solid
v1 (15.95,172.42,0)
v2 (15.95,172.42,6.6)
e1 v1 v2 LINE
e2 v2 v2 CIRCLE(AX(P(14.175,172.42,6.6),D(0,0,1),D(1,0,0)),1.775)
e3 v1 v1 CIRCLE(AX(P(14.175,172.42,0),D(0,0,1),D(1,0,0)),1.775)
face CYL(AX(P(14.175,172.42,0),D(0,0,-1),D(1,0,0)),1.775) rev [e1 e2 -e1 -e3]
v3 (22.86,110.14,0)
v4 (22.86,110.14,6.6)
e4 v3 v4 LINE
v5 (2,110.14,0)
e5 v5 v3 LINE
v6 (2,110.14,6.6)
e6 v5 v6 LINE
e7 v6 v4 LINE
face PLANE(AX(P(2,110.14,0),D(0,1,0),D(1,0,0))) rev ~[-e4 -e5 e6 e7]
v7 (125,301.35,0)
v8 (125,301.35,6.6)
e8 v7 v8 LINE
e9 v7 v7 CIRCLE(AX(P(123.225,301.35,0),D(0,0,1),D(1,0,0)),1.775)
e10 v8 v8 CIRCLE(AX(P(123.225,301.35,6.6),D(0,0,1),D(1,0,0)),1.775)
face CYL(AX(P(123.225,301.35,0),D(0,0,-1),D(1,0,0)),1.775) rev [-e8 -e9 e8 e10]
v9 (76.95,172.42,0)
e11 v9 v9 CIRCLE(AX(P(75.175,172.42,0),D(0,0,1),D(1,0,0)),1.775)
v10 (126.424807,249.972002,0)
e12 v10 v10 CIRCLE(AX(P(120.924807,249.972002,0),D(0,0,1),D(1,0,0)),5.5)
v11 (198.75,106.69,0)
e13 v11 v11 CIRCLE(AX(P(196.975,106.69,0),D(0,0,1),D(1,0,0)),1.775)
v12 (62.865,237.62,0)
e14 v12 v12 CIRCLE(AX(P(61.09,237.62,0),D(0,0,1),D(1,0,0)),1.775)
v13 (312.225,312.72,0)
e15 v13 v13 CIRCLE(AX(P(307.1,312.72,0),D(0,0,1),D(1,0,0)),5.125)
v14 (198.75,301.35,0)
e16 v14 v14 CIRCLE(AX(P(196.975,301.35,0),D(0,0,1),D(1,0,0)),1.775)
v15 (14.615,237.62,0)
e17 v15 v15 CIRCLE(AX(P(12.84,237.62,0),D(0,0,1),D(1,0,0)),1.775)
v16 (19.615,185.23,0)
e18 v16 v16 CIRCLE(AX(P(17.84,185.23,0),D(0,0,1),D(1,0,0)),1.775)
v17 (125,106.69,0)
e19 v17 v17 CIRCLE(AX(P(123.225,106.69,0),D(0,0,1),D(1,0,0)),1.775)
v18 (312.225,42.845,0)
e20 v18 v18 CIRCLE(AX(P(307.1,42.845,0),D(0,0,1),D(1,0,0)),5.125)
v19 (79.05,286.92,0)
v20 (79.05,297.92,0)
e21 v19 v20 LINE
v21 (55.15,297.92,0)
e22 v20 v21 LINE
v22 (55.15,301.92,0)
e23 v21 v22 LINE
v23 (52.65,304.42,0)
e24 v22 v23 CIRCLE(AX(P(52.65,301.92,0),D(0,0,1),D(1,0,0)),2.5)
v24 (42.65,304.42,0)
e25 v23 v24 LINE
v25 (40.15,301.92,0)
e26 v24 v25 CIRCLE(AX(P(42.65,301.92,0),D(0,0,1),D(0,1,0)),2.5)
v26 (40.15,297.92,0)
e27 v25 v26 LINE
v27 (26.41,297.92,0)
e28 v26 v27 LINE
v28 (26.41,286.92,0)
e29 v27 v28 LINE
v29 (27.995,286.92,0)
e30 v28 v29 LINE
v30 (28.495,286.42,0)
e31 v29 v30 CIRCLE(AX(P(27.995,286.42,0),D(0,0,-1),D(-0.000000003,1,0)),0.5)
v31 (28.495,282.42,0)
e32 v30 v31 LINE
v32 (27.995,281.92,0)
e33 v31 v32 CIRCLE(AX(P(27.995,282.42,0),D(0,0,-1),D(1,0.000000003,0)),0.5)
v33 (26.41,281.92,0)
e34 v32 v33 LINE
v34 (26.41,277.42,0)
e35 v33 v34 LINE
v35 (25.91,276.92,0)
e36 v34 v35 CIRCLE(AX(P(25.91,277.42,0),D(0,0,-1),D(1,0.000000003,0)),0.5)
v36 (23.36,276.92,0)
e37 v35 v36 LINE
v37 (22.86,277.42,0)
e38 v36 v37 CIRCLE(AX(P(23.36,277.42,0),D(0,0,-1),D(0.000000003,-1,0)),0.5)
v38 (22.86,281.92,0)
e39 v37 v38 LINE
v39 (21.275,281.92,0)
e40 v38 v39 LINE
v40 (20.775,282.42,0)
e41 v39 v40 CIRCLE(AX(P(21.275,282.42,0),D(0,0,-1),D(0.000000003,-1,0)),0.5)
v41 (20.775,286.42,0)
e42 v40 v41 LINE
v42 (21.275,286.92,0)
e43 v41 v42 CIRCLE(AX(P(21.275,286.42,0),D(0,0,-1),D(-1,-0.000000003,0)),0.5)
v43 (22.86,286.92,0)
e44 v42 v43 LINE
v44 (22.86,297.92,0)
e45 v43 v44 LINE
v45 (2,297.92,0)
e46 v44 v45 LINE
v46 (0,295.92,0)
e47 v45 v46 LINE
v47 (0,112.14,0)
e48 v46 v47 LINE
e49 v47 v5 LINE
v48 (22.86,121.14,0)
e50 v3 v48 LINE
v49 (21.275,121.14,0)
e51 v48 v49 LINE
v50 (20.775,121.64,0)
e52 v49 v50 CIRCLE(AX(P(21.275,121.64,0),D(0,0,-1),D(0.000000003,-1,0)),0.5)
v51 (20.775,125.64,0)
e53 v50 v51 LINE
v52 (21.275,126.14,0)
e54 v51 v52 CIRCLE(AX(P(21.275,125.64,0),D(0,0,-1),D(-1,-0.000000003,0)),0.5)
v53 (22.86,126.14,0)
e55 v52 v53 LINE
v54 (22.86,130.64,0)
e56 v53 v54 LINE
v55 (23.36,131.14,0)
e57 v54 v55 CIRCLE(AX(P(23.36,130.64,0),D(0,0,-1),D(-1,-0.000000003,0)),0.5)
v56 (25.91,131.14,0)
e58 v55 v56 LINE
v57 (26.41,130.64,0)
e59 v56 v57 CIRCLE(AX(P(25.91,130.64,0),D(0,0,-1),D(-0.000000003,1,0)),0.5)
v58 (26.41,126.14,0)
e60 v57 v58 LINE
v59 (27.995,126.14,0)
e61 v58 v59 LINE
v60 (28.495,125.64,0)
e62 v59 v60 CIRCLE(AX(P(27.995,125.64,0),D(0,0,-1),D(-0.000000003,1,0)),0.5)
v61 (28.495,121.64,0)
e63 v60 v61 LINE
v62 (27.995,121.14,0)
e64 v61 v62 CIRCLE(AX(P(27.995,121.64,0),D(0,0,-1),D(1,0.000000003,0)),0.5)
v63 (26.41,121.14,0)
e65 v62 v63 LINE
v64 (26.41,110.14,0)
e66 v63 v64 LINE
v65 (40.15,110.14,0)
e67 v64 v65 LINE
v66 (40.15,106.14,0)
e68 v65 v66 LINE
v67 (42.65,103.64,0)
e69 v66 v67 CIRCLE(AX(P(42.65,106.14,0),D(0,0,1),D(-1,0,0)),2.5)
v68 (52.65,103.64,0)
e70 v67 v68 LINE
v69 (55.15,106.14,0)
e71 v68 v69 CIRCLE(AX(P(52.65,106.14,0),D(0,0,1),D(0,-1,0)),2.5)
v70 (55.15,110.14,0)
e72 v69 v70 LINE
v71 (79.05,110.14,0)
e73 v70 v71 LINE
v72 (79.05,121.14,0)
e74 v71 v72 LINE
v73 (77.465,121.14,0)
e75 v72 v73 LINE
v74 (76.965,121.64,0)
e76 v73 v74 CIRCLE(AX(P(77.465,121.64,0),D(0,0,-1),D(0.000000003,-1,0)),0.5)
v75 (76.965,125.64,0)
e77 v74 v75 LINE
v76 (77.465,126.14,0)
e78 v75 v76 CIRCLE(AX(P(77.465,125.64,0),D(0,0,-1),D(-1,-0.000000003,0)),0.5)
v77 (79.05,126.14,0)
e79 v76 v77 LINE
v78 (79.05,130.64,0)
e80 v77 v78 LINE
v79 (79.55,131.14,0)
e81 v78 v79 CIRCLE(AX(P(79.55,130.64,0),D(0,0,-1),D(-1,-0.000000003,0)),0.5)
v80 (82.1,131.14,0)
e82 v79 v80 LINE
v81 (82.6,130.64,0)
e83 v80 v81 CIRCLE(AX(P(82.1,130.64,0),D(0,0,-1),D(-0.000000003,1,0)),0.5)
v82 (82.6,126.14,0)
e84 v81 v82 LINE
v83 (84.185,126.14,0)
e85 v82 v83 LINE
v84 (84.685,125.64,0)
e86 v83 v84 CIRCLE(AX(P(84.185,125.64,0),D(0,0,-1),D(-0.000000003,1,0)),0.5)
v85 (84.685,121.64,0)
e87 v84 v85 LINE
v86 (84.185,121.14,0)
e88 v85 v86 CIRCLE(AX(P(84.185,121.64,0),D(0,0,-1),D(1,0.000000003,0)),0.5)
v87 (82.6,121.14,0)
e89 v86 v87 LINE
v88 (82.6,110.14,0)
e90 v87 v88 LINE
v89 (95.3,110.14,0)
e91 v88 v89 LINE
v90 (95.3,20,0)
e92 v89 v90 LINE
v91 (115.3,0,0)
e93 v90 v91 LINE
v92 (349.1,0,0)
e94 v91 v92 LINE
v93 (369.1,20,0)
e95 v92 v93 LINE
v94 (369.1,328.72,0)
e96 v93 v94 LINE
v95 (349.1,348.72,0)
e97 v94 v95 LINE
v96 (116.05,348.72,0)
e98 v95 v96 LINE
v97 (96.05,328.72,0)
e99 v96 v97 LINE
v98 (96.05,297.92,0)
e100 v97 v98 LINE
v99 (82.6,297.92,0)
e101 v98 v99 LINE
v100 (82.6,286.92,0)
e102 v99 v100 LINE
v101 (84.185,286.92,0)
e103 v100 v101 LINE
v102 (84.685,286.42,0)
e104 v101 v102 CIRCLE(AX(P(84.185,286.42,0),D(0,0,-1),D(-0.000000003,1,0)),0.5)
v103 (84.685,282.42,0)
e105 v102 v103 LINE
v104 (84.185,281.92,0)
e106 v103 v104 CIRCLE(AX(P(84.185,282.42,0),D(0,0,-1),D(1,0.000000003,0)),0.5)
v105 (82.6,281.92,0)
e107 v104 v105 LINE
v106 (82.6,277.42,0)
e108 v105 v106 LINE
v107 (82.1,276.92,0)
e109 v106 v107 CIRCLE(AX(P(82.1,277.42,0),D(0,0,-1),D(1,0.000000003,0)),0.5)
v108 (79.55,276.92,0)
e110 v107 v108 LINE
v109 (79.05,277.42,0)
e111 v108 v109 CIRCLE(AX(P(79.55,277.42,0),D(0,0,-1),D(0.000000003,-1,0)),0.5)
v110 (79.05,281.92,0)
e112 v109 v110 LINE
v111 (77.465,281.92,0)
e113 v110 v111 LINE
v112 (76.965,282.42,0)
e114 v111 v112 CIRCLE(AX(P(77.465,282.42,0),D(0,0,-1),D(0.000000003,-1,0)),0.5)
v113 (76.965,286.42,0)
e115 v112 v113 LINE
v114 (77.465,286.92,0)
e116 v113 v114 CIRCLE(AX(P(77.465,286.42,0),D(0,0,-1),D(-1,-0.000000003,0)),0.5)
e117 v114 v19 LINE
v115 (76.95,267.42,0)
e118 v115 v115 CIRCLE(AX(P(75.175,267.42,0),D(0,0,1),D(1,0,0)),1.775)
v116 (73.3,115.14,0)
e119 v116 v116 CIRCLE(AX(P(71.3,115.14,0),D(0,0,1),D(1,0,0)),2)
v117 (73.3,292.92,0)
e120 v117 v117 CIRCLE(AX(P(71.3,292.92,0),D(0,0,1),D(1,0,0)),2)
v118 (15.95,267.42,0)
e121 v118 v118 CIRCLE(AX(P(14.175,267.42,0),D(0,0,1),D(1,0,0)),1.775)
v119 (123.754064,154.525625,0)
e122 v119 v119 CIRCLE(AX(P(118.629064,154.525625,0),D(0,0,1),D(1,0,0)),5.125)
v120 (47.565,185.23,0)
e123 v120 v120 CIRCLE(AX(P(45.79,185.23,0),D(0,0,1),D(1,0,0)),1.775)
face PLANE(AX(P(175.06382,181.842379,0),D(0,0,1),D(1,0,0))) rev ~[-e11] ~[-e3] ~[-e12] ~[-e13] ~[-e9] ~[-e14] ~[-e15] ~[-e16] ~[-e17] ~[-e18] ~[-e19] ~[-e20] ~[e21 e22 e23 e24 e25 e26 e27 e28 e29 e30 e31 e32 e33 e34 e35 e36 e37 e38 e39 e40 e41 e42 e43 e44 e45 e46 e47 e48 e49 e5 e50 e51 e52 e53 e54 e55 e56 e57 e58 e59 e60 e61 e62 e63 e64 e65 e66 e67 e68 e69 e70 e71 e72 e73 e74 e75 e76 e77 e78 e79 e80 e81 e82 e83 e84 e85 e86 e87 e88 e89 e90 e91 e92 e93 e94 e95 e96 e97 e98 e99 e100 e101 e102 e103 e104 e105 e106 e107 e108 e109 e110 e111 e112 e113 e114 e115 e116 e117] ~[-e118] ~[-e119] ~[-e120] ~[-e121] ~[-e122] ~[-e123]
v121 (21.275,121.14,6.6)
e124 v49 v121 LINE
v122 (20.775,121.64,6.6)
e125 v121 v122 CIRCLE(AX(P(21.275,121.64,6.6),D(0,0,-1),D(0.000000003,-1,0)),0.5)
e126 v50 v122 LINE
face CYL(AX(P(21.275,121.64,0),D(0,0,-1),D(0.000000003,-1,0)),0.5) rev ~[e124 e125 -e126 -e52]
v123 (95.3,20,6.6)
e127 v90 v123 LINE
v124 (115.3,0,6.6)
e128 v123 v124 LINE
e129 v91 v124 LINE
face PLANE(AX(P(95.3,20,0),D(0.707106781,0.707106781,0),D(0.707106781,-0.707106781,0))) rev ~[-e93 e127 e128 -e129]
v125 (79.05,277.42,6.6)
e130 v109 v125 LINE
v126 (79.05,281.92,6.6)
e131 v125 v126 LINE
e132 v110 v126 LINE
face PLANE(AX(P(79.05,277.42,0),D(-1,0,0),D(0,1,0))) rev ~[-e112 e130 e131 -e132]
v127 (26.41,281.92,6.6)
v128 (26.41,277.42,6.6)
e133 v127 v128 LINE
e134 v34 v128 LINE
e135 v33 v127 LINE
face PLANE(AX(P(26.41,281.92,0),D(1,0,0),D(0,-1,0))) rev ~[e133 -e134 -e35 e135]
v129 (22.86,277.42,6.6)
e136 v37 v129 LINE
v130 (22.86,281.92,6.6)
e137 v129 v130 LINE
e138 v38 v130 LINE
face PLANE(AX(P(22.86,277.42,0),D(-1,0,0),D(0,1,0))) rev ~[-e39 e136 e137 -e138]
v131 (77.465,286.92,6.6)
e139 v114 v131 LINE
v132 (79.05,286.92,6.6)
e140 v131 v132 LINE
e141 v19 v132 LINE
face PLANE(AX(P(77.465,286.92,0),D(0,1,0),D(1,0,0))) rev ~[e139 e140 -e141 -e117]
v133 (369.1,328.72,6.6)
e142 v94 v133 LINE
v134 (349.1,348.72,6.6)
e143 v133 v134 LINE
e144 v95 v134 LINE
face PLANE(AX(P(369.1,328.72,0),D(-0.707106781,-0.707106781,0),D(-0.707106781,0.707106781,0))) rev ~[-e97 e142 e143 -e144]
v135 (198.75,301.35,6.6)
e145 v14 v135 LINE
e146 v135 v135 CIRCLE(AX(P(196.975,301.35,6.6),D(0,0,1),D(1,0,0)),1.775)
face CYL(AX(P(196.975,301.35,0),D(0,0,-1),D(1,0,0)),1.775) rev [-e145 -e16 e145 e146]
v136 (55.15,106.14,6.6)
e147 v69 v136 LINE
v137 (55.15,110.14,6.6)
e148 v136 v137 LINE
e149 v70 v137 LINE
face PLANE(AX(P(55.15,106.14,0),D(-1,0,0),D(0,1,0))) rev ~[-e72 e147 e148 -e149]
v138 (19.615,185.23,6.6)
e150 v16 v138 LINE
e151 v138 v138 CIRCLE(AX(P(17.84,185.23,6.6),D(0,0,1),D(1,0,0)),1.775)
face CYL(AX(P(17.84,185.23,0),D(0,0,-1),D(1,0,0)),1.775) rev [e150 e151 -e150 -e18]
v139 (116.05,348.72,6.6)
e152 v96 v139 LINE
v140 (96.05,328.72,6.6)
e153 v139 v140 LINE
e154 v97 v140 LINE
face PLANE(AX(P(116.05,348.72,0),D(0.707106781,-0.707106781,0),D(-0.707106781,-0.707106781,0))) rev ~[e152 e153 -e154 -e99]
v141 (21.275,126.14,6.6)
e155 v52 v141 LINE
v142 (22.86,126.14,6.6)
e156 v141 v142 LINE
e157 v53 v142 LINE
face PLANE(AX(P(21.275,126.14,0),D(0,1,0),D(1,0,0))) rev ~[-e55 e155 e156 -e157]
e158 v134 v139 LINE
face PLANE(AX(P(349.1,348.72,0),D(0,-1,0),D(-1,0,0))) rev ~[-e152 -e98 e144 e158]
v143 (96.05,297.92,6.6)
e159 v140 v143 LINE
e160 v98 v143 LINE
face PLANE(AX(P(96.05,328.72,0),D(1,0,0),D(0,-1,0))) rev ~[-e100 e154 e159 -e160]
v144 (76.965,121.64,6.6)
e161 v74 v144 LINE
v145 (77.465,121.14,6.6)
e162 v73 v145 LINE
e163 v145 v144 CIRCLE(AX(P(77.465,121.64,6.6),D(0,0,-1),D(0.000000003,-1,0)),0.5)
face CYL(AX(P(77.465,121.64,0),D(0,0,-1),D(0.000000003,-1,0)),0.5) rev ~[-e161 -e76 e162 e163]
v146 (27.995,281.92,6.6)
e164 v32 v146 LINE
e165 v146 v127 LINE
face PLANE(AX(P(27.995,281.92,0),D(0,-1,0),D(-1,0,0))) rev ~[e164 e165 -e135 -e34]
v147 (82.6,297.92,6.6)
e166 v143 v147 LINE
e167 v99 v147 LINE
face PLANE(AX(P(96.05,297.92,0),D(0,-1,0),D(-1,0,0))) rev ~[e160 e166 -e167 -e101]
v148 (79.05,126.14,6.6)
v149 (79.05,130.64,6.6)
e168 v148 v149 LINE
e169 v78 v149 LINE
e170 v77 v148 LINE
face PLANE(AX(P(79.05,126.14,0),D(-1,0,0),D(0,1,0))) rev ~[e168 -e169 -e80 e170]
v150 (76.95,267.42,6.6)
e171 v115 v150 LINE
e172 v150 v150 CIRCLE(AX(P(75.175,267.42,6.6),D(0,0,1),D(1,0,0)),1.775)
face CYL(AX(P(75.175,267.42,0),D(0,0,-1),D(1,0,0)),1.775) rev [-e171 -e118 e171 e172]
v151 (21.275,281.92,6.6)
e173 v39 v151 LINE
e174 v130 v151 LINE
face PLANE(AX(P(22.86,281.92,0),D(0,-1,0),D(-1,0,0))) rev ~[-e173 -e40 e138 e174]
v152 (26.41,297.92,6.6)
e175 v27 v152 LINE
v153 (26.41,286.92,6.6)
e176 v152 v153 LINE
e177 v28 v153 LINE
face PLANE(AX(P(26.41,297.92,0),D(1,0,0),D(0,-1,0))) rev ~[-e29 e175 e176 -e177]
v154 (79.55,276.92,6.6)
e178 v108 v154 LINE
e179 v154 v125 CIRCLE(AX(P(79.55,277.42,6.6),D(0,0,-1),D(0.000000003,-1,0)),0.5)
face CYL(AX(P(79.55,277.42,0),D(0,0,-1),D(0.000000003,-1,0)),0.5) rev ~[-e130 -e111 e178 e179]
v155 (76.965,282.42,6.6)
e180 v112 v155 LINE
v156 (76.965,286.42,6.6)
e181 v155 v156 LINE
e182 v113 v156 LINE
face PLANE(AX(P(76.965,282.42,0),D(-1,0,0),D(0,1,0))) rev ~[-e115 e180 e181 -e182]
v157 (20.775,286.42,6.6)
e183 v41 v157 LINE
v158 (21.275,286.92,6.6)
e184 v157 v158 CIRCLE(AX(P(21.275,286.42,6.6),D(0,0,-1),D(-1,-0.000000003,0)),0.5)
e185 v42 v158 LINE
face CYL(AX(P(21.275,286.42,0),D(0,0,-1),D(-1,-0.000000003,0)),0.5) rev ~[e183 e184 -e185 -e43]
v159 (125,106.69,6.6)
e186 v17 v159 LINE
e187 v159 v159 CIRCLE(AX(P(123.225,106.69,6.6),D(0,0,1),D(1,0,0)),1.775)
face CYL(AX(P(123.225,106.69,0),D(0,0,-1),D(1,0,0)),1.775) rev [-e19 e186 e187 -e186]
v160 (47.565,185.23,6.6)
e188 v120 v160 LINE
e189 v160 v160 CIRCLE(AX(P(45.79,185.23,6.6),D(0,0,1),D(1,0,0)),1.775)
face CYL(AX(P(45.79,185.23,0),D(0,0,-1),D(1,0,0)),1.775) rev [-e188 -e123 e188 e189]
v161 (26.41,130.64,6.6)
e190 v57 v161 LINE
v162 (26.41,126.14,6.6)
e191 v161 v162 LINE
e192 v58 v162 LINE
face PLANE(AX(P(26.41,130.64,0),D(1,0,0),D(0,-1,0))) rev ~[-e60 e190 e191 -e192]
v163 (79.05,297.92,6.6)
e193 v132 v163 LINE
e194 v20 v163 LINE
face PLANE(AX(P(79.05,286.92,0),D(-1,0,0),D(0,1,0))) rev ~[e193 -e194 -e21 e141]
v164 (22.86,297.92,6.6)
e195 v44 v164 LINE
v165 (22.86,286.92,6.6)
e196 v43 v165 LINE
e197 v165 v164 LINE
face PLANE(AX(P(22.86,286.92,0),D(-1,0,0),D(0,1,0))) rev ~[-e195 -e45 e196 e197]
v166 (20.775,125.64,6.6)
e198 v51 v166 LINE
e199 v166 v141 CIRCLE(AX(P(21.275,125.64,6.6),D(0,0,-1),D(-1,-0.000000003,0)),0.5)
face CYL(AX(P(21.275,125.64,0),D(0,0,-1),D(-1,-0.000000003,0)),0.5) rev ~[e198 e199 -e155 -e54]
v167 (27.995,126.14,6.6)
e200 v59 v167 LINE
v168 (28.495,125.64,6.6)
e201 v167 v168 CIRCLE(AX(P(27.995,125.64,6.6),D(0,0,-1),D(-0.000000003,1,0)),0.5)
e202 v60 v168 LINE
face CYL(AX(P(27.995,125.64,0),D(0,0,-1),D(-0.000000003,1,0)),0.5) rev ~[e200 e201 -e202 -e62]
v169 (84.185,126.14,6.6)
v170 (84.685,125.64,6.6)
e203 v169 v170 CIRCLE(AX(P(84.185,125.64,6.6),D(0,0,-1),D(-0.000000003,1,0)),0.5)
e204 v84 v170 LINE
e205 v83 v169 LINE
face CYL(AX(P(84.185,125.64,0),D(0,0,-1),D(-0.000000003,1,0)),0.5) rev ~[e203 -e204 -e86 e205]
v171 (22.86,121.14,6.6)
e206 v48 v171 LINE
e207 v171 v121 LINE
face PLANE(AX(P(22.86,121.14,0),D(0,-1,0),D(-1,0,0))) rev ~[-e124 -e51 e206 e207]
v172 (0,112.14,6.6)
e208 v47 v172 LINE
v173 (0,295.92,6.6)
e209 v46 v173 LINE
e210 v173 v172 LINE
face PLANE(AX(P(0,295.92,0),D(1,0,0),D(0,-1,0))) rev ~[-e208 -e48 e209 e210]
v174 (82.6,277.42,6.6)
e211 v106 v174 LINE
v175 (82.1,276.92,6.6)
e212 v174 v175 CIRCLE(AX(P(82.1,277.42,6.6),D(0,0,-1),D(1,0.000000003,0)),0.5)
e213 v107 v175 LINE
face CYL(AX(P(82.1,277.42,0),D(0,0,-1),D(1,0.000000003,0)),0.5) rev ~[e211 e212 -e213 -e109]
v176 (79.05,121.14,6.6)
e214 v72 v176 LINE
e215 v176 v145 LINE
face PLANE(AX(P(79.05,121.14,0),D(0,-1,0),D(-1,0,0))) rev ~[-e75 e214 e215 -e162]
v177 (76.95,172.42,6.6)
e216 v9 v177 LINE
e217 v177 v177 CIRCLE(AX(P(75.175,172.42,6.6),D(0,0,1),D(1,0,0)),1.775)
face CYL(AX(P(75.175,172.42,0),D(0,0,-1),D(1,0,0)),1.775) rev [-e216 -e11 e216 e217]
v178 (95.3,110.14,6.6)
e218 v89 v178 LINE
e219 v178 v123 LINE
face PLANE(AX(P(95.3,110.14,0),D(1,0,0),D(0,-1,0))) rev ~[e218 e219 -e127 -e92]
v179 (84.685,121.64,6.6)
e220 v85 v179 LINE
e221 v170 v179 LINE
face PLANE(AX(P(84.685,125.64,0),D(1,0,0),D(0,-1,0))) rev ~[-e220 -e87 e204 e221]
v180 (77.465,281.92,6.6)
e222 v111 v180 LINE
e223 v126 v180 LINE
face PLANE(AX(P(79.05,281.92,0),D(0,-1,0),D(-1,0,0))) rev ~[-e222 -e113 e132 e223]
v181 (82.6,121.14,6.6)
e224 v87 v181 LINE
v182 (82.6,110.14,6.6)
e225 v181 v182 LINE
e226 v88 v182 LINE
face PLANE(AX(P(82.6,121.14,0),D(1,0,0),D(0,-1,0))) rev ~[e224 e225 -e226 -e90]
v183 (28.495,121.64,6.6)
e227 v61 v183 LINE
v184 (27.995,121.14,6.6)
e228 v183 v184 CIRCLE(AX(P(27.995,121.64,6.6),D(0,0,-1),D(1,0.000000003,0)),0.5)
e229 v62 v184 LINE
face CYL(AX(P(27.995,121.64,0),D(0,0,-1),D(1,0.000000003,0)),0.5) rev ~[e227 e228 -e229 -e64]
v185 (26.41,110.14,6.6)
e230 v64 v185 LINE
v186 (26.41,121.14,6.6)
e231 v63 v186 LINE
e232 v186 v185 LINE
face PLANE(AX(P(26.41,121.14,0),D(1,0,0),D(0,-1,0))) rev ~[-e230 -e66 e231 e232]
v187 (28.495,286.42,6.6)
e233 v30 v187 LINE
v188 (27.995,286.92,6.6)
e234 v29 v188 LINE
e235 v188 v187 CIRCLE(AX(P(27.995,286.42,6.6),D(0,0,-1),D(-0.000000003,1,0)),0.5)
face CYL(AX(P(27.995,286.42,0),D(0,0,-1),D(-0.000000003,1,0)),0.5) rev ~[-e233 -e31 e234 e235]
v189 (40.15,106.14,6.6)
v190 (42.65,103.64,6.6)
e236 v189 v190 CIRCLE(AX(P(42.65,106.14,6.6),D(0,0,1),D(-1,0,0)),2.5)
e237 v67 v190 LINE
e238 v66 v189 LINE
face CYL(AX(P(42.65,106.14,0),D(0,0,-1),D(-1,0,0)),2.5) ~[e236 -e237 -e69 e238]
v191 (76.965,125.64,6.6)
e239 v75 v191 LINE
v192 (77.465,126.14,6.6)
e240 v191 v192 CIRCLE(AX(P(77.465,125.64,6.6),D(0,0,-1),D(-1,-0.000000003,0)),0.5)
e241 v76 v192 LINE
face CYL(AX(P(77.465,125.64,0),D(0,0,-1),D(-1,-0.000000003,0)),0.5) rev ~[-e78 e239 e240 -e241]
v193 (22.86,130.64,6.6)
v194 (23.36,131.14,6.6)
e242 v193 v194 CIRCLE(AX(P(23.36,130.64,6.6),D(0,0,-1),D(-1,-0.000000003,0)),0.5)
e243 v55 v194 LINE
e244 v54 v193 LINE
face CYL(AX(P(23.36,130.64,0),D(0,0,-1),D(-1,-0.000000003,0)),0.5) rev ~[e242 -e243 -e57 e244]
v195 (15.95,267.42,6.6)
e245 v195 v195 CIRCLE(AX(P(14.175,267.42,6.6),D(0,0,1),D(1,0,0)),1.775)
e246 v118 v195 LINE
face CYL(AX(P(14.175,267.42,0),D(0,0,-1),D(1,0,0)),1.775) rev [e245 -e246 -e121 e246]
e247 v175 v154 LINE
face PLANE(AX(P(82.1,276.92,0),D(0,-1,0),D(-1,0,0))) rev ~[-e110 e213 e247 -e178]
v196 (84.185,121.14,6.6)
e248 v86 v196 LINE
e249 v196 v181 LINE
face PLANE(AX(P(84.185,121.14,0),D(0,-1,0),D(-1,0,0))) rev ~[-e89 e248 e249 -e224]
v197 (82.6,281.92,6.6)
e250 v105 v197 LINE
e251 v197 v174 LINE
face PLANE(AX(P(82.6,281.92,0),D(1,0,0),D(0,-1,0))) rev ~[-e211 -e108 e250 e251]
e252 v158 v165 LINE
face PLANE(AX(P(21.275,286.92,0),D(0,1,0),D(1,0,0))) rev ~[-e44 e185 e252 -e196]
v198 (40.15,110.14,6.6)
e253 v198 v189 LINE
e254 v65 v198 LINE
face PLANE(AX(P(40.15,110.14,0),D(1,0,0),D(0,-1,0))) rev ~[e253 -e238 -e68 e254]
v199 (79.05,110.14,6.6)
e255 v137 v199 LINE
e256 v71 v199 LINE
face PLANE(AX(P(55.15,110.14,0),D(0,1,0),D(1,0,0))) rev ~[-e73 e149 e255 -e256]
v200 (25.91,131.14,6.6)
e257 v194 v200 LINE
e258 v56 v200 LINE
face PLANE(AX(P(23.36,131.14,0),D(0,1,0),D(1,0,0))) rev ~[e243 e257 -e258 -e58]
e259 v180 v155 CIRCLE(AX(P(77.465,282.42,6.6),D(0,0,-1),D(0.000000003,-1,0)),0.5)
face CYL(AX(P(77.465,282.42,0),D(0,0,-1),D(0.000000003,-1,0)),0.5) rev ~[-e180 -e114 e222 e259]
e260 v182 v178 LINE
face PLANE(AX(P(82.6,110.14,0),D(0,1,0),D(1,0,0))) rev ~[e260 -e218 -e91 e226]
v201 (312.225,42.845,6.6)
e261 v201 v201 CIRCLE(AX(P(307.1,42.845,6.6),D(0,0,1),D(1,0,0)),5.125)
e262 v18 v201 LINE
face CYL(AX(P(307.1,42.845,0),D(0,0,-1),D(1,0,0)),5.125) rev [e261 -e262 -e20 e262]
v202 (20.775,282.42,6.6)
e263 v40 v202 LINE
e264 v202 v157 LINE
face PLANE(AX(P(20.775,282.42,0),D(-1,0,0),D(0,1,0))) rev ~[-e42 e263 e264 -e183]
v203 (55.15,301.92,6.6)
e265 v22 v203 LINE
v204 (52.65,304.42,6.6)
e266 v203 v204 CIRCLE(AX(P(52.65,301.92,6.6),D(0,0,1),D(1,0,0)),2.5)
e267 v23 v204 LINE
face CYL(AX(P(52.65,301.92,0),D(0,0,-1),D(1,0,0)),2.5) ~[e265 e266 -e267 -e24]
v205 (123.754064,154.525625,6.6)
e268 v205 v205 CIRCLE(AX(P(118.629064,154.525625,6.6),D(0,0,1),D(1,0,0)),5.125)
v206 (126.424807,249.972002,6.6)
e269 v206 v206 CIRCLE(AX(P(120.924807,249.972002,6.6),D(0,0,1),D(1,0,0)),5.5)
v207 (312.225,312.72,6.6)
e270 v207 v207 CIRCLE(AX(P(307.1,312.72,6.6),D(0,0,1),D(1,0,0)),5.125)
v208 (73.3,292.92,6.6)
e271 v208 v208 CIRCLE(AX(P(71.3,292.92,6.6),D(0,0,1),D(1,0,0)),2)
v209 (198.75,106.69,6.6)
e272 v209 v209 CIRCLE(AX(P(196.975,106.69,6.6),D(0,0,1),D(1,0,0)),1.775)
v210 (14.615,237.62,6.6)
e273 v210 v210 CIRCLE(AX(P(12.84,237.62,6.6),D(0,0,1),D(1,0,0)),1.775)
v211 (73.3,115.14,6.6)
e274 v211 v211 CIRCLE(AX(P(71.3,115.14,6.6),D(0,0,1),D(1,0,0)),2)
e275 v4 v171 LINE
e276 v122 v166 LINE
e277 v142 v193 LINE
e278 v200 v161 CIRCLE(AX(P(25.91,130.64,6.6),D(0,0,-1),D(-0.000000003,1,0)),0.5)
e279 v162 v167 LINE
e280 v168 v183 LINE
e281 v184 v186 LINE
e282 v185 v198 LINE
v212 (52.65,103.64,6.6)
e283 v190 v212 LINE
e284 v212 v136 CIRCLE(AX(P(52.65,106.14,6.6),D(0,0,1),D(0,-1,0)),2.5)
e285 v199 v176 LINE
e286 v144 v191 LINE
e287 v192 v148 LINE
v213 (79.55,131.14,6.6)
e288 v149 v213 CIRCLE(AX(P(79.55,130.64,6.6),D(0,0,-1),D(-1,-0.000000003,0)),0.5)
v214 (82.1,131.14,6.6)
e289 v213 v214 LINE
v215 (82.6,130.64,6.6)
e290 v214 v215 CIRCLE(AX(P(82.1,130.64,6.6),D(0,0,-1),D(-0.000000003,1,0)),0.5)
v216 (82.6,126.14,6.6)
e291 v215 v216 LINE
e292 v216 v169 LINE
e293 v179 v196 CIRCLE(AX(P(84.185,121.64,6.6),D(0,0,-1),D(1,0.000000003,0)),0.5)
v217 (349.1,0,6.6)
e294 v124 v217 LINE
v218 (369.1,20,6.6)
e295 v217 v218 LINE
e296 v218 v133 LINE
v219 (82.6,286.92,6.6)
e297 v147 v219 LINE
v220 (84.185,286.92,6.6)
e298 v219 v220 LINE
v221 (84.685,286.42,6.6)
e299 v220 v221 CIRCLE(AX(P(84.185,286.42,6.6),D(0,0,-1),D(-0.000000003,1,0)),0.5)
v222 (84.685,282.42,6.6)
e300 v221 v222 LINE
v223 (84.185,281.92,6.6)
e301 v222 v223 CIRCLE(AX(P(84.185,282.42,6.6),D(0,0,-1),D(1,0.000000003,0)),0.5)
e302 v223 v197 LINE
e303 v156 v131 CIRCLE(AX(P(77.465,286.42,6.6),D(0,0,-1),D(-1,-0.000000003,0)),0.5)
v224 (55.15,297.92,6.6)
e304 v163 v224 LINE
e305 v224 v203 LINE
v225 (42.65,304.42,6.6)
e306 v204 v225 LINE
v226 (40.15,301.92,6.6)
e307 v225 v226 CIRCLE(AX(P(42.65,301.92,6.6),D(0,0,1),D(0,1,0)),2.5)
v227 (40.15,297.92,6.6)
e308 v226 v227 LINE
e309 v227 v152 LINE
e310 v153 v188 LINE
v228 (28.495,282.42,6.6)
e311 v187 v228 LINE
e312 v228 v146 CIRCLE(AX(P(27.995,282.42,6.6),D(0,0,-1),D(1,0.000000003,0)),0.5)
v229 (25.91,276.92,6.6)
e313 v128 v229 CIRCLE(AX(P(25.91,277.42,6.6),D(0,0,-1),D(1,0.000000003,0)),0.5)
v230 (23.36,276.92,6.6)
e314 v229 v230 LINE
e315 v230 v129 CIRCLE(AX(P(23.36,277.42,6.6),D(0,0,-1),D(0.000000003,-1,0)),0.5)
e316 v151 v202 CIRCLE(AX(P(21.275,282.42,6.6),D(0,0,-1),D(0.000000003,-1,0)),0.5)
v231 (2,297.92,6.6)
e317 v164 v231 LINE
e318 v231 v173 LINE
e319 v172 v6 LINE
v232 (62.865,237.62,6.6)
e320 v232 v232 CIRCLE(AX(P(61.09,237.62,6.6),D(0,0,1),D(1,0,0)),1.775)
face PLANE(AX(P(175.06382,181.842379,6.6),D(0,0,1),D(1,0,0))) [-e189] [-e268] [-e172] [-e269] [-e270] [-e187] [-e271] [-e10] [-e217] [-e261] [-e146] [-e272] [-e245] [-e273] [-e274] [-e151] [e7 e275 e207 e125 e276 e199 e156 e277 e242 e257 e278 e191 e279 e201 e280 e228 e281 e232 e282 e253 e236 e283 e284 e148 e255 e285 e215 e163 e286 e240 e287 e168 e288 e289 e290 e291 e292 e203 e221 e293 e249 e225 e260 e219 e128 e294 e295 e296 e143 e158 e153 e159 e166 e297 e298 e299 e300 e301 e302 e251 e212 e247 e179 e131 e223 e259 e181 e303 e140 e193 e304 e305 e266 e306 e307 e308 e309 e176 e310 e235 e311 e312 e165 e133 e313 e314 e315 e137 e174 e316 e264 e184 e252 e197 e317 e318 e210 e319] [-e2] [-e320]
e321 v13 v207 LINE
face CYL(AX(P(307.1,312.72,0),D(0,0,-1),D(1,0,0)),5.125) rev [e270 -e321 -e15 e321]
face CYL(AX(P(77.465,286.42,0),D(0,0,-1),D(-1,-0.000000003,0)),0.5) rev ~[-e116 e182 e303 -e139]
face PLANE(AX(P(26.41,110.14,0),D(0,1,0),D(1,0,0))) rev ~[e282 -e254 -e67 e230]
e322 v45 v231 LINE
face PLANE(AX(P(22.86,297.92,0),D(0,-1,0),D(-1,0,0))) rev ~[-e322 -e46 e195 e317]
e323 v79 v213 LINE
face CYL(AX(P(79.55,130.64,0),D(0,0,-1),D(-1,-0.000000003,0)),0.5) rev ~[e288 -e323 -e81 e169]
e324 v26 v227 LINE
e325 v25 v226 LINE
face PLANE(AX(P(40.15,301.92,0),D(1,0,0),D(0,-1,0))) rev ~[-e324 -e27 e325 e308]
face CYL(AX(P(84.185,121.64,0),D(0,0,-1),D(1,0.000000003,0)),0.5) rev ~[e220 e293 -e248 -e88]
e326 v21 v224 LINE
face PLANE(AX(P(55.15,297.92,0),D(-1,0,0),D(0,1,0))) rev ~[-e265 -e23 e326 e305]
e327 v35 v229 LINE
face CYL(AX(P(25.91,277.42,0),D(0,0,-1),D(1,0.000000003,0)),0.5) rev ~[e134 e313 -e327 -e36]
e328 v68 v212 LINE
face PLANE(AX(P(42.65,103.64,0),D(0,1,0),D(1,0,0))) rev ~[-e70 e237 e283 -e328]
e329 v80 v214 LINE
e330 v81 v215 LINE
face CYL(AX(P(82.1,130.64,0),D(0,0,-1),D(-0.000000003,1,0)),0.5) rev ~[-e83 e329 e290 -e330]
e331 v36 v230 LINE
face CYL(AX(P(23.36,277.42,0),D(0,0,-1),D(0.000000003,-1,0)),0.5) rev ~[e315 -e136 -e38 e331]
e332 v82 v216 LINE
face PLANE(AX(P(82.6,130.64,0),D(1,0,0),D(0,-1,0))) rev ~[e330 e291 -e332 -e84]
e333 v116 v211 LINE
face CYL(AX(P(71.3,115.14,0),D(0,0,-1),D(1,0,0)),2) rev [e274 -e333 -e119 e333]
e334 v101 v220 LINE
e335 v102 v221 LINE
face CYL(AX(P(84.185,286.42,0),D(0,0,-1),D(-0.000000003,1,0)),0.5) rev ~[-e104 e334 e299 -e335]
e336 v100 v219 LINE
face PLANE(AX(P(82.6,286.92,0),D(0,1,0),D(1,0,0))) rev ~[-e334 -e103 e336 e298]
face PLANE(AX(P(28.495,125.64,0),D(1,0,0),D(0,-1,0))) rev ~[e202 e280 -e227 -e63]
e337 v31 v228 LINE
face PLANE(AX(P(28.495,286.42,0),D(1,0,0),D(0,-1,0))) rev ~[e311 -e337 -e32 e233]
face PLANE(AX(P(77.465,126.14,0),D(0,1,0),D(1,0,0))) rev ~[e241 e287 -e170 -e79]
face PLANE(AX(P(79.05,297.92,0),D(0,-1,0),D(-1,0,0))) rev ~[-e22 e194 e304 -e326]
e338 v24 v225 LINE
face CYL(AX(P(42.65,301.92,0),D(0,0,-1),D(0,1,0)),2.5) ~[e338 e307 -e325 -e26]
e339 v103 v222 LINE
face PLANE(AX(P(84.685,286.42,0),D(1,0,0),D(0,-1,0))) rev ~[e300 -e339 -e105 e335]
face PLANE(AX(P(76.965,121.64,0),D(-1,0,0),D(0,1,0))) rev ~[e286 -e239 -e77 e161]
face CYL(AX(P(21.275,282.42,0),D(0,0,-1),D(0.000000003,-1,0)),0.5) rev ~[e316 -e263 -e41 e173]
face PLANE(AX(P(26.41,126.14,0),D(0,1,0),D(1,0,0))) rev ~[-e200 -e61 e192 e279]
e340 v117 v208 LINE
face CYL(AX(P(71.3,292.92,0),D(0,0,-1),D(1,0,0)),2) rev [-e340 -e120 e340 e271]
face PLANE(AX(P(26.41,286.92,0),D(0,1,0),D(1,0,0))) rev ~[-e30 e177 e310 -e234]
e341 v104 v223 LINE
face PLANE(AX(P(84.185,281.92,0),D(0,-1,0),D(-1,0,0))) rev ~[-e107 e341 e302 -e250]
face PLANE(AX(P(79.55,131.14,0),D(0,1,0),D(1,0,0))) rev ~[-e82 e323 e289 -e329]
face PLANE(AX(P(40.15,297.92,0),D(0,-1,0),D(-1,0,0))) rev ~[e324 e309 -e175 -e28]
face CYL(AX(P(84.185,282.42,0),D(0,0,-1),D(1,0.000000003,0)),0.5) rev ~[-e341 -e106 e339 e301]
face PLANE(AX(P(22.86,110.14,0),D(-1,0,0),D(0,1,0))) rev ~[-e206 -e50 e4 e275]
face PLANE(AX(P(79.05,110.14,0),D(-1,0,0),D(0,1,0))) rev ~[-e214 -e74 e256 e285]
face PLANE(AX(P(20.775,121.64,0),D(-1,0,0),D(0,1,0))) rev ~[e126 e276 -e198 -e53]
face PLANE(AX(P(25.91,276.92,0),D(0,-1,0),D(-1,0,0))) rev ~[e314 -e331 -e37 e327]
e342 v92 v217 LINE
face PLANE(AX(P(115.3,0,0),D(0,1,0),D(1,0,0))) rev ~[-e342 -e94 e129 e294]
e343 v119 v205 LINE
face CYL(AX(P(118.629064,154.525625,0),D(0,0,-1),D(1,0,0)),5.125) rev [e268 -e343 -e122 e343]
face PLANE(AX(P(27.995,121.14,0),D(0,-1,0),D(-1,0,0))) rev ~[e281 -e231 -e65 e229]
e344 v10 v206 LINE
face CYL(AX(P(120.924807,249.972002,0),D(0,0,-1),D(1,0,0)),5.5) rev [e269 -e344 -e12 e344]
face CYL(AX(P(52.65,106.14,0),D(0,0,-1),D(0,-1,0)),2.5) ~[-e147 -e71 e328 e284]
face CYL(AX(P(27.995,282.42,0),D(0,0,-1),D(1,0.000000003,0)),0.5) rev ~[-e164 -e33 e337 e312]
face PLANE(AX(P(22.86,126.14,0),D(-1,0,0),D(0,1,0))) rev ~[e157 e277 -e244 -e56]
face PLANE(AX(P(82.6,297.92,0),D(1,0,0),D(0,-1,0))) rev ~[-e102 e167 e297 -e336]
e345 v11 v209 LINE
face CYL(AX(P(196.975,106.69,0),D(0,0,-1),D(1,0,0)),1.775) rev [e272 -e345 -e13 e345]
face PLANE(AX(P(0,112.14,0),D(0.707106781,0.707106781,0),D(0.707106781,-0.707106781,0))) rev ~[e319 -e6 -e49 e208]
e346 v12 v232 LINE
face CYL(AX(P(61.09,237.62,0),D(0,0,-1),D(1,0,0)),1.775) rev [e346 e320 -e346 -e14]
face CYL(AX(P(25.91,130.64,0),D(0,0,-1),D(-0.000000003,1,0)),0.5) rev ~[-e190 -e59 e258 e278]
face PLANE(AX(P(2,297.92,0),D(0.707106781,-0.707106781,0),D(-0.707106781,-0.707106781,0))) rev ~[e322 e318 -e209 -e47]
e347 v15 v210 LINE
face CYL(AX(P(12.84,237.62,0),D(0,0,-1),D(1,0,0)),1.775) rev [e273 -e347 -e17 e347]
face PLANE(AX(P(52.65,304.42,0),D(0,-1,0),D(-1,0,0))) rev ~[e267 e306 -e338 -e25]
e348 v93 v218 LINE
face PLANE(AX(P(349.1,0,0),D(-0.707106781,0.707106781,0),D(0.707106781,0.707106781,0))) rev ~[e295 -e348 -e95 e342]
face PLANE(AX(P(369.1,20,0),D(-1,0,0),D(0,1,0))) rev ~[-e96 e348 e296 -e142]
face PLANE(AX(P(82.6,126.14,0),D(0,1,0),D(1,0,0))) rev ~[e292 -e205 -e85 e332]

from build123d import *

# Parameters (mm, degrees)
MODEL_R             = 1.775
MODEL_R_2           = 5.5
MODEL_R_3           = 2
MODEL_R_4           = 5.125
BOSS_EXTRUDE1_DEPTH = 6.6


with BuildPart() as part:
    # Model → Boss-Extrude1 (new body)
    with BuildSketch(Plane.XY):
        with BuildLine():
            Line((40.15, 110.14), (40.15, 106.14))
            ThreePointArc((40.15, 106.14), (40.882233047, 104.372233047), (42.65, 103.64))
            Line((42.65, 103.64), (52.65, 103.64))
            ThreePointArc((52.65, 103.64), (54.417766953, 104.372233047), (55.15, 106.14))
            Line((55.15, 106.14), (55.15, 110.14))
            Line((55.15, 110.14), (79.05, 110.14))
            Line((79.05, 110.14), (79.05, 121.14))
            Line((79.05, 121.14), (77.465, 121.14))
            ThreePointArc((77.465, 121.14), (77.111446609, 121.286446609), (76.965, 121.64))
            Line((76.965, 121.64), (76.965, 125.64))
            ThreePointArc((76.965, 125.64), (77.111446609, 125.993553391), (77.465, 126.14))
            Line((77.465, 126.14), (79.05, 126.14))
            Line((79.05, 126.14), (79.05, 130.64))
            ThreePointArc((79.05, 130.64), (79.196446609, 130.993553391), (79.55, 131.14))
            Line((79.55, 131.14), (82.1, 131.14))
            ThreePointArc((82.1, 131.14), (82.453553391, 130.993553391), (82.6, 130.64))
            Line((82.6, 130.64), (82.6, 126.14))
            Line((82.6, 126.14), (84.185, 126.14))
            ThreePointArc((84.185, 126.14), (84.538553391, 125.993553391), (84.685, 125.64))
            Line((84.685, 125.64), (84.685, 121.64))
            ThreePointArc((84.685, 121.64), (84.538553391, 121.286446609), (84.185, 121.14))
            Line((84.185, 121.14), (82.6, 121.14))
            Line((82.6, 121.14), (82.6, 110.14))
            Line((82.6, 110.14), (95.3, 110.14))
            Line((95.3, 110.14), (95.3, 20))
            Line((95.3, 20), (115.3, 0))
            Line((115.3, 0), (349.1, 0))
            Line((349.1, 0), (369.1, 20))
            Line((369.1, 20), (369.1, 328.72))
            Line((369.1, 328.72), (349.1, 348.72))
            Line((349.1, 348.72), (116.05, 348.72))
            Line((116.05, 348.72), (96.05, 328.72))
            Line((96.05, 328.72), (96.05, 297.92))
            Line((96.05, 297.92), (82.6, 297.92))
            Line((82.6, 297.92), (82.6, 286.92))
            Line((82.6, 286.92), (84.185, 286.92))
            ThreePointArc((84.185, 286.92), (84.538553391, 286.773553391), (84.685, 286.42))
            Line((84.685, 286.42), (84.685, 282.42))
            ThreePointArc((84.685, 282.42), (84.538553391, 282.066446609), (84.185, 281.92))
            Line((84.185, 281.92), (82.6, 281.92))
            Line((82.6, 281.92), (82.6, 277.42))
            ThreePointArc((82.6, 277.42), (82.453553391, 277.066446609), (82.1, 276.92))
            Line((82.1, 276.92), (79.55, 276.92))
            ThreePointArc((79.55, 276.92), (79.196446609, 277.066446609), (79.05, 277.42))
            Line((79.05, 277.42), (79.05, 281.92))
            Line((79.05, 281.92), (77.465, 281.92))
            ThreePointArc((77.465, 281.92), (77.111446609, 282.066446609), (76.965, 282.42))
            Line((76.965, 282.42), (76.965, 286.42))
            ThreePointArc((76.965, 286.42), (77.111446609, 286.773553391), (77.465, 286.92))
            Line((77.465, 286.92), (79.05, 286.92))
            Line((79.05, 286.92), (79.05, 297.92))
            Line((79.05, 297.92), (55.15, 297.92))
            Line((55.15, 297.92), (55.15, 301.92))
            ThreePointArc((55.15, 301.92), (54.417766953, 303.687766953), (52.65, 304.42))
            Line((52.65, 304.42), (42.65, 304.42))
            ThreePointArc((42.65, 304.42), (40.882233047, 303.687766953), (40.15, 301.92))
            Line((40.15, 301.92), (40.15, 297.92))
            Line((40.15, 297.92), (26.41, 297.92))
            Line((26.41, 297.92), (26.41, 286.92))
            Line((26.41, 286.92), (27.995, 286.92))
            ThreePointArc((27.995, 286.92), (28.348553391, 286.773553391), (28.495, 286.42))
            Line((28.495, 286.42), (28.495, 282.42))
            ThreePointArc((28.495, 282.42), (28.348553391, 282.066446609), (27.995, 281.92))
            Line((27.995, 281.92), (26.41, 281.92))
            Line((26.41, 281.92), (26.41, 277.42))
            ThreePointArc((26.41, 277.42), (26.263553391, 277.066446609), (25.91, 276.92))
            Line((25.91, 276.92), (23.36, 276.92))
            ThreePointArc((23.36, 276.92), (23.006446609, 277.066446609), (22.86, 277.42))
            Line((22.86, 277.42), (22.86, 281.92))
            Line((22.86, 281.92), (21.275, 281.92))
            ThreePointArc((21.275, 281.92), (20.921446609, 282.066446609), (20.775, 282.42))
            Line((20.775, 282.42), (20.775, 286.42))
            ThreePointArc((20.775, 286.42), (20.921446609, 286.773553391), (21.275, 286.92))
            Line((21.275, 286.92), (22.86, 286.92))
            Line((22.86, 286.92), (22.86, 297.92))
            Line((22.86, 297.92), (2, 297.92))
            Line((2, 297.92), (0, 295.92))
            Line((0, 295.92), (0, 112.14))
            Line((0, 112.14), (2, 110.14))
            Line((2, 110.14), (22.86, 110.14))
            Line((22.86, 110.14), (22.86, 121.14))
            Line((22.86, 121.14), (21.275, 121.14))
            ThreePointArc((21.275, 121.14), (20.921446609, 121.286446609), (20.775, 121.64))
            Line((20.775, 121.64), (20.775, 125.64))
            ThreePointArc((20.775, 125.64), (20.921446609, 125.993553391), (21.275, 126.14))
            Line((21.275, 126.14), (22.86, 126.14))
            Line((22.86, 126.14), (22.86, 130.64))
            ThreePointArc((22.86, 130.64), (23.006446609, 130.993553391), (23.36, 131.14))
            Line((23.36, 131.14), (25.91, 131.14))
            ThreePointArc((25.91, 131.14), (26.263553391, 130.993553391), (26.41, 130.64))
            Line((26.41, 130.64), (26.41, 126.14))
            Line((26.41, 126.14), (27.995, 126.14))
            ThreePointArc((27.995, 126.14), (28.348553391, 125.993553391), (28.495, 125.64))
            Line((28.495, 125.64), (28.495, 121.64))
            ThreePointArc((28.495, 121.64), (28.348553391, 121.286446609), (27.995, 121.14))
            Line((27.995, 121.14), (26.41, 121.14))
            Line((26.41, 121.14), (26.41, 110.14))
            Line((26.41, 110.14), (40.15, 110.14))
        make_face()
        with Locations((123.225, 301.35)):
            Circle(MODEL_R, mode=Mode.SUBTRACT)
        with Locations((196.975, 301.35)):
            Circle(MODEL_R, mode=Mode.SUBTRACT)
        with Locations((123.225, 106.69)):
            Circle(MODEL_R, mode=Mode.SUBTRACT)
        with Locations((196.975, 106.69)):
            Circle(MODEL_R, mode=Mode.SUBTRACT)
        with Locations((120.924806781, 249.972001664)):
            Circle(MODEL_R_2, mode=Mode.SUBTRACT)
        with Locations((17.84, 185.23)):
            Circle(MODEL_R, mode=Mode.SUBTRACT)
        with Locations((45.79, 185.23)):
            Circle(MODEL_R, mode=Mode.SUBTRACT)
        with Locations((61.09, 237.62)):
            Circle(MODEL_R, mode=Mode.SUBTRACT)
        with Locations((12.84, 237.62)):
            Circle(MODEL_R, mode=Mode.SUBTRACT)
        with Locations((14.175, 172.42)):
            Circle(MODEL_R, mode=Mode.SUBTRACT)
        with Locations((75.175, 172.42)):
            Circle(MODEL_R, mode=Mode.SUBTRACT)
        with Locations((14.175, 267.42)):
            Circle(MODEL_R, mode=Mode.SUBTRACT)
        with Locations((75.175, 267.42)):
            Circle(MODEL_R, mode=Mode.SUBTRACT)
        with Locations((71.3, 292.92)):
            Circle(MODEL_R_3, mode=Mode.SUBTRACT)
        with Locations((71.3, 115.14)):
            Circle(MODEL_R_3, mode=Mode.SUBTRACT)
        with Locations((307.1, 312.72)):
            Circle(MODEL_R_4, mode=Mode.SUBTRACT)
        with Locations((118.629064244, 154.525625)):
            Circle(MODEL_R_4, mode=Mode.SUBTRACT)
        with Locations((307.1, 42.845)):
            Circle(MODEL_R_4, mode=Mode.SUBTRACT)
    extrude(amount=BOSS_EXTRUDE1_DEPTH)


solid = part.part
